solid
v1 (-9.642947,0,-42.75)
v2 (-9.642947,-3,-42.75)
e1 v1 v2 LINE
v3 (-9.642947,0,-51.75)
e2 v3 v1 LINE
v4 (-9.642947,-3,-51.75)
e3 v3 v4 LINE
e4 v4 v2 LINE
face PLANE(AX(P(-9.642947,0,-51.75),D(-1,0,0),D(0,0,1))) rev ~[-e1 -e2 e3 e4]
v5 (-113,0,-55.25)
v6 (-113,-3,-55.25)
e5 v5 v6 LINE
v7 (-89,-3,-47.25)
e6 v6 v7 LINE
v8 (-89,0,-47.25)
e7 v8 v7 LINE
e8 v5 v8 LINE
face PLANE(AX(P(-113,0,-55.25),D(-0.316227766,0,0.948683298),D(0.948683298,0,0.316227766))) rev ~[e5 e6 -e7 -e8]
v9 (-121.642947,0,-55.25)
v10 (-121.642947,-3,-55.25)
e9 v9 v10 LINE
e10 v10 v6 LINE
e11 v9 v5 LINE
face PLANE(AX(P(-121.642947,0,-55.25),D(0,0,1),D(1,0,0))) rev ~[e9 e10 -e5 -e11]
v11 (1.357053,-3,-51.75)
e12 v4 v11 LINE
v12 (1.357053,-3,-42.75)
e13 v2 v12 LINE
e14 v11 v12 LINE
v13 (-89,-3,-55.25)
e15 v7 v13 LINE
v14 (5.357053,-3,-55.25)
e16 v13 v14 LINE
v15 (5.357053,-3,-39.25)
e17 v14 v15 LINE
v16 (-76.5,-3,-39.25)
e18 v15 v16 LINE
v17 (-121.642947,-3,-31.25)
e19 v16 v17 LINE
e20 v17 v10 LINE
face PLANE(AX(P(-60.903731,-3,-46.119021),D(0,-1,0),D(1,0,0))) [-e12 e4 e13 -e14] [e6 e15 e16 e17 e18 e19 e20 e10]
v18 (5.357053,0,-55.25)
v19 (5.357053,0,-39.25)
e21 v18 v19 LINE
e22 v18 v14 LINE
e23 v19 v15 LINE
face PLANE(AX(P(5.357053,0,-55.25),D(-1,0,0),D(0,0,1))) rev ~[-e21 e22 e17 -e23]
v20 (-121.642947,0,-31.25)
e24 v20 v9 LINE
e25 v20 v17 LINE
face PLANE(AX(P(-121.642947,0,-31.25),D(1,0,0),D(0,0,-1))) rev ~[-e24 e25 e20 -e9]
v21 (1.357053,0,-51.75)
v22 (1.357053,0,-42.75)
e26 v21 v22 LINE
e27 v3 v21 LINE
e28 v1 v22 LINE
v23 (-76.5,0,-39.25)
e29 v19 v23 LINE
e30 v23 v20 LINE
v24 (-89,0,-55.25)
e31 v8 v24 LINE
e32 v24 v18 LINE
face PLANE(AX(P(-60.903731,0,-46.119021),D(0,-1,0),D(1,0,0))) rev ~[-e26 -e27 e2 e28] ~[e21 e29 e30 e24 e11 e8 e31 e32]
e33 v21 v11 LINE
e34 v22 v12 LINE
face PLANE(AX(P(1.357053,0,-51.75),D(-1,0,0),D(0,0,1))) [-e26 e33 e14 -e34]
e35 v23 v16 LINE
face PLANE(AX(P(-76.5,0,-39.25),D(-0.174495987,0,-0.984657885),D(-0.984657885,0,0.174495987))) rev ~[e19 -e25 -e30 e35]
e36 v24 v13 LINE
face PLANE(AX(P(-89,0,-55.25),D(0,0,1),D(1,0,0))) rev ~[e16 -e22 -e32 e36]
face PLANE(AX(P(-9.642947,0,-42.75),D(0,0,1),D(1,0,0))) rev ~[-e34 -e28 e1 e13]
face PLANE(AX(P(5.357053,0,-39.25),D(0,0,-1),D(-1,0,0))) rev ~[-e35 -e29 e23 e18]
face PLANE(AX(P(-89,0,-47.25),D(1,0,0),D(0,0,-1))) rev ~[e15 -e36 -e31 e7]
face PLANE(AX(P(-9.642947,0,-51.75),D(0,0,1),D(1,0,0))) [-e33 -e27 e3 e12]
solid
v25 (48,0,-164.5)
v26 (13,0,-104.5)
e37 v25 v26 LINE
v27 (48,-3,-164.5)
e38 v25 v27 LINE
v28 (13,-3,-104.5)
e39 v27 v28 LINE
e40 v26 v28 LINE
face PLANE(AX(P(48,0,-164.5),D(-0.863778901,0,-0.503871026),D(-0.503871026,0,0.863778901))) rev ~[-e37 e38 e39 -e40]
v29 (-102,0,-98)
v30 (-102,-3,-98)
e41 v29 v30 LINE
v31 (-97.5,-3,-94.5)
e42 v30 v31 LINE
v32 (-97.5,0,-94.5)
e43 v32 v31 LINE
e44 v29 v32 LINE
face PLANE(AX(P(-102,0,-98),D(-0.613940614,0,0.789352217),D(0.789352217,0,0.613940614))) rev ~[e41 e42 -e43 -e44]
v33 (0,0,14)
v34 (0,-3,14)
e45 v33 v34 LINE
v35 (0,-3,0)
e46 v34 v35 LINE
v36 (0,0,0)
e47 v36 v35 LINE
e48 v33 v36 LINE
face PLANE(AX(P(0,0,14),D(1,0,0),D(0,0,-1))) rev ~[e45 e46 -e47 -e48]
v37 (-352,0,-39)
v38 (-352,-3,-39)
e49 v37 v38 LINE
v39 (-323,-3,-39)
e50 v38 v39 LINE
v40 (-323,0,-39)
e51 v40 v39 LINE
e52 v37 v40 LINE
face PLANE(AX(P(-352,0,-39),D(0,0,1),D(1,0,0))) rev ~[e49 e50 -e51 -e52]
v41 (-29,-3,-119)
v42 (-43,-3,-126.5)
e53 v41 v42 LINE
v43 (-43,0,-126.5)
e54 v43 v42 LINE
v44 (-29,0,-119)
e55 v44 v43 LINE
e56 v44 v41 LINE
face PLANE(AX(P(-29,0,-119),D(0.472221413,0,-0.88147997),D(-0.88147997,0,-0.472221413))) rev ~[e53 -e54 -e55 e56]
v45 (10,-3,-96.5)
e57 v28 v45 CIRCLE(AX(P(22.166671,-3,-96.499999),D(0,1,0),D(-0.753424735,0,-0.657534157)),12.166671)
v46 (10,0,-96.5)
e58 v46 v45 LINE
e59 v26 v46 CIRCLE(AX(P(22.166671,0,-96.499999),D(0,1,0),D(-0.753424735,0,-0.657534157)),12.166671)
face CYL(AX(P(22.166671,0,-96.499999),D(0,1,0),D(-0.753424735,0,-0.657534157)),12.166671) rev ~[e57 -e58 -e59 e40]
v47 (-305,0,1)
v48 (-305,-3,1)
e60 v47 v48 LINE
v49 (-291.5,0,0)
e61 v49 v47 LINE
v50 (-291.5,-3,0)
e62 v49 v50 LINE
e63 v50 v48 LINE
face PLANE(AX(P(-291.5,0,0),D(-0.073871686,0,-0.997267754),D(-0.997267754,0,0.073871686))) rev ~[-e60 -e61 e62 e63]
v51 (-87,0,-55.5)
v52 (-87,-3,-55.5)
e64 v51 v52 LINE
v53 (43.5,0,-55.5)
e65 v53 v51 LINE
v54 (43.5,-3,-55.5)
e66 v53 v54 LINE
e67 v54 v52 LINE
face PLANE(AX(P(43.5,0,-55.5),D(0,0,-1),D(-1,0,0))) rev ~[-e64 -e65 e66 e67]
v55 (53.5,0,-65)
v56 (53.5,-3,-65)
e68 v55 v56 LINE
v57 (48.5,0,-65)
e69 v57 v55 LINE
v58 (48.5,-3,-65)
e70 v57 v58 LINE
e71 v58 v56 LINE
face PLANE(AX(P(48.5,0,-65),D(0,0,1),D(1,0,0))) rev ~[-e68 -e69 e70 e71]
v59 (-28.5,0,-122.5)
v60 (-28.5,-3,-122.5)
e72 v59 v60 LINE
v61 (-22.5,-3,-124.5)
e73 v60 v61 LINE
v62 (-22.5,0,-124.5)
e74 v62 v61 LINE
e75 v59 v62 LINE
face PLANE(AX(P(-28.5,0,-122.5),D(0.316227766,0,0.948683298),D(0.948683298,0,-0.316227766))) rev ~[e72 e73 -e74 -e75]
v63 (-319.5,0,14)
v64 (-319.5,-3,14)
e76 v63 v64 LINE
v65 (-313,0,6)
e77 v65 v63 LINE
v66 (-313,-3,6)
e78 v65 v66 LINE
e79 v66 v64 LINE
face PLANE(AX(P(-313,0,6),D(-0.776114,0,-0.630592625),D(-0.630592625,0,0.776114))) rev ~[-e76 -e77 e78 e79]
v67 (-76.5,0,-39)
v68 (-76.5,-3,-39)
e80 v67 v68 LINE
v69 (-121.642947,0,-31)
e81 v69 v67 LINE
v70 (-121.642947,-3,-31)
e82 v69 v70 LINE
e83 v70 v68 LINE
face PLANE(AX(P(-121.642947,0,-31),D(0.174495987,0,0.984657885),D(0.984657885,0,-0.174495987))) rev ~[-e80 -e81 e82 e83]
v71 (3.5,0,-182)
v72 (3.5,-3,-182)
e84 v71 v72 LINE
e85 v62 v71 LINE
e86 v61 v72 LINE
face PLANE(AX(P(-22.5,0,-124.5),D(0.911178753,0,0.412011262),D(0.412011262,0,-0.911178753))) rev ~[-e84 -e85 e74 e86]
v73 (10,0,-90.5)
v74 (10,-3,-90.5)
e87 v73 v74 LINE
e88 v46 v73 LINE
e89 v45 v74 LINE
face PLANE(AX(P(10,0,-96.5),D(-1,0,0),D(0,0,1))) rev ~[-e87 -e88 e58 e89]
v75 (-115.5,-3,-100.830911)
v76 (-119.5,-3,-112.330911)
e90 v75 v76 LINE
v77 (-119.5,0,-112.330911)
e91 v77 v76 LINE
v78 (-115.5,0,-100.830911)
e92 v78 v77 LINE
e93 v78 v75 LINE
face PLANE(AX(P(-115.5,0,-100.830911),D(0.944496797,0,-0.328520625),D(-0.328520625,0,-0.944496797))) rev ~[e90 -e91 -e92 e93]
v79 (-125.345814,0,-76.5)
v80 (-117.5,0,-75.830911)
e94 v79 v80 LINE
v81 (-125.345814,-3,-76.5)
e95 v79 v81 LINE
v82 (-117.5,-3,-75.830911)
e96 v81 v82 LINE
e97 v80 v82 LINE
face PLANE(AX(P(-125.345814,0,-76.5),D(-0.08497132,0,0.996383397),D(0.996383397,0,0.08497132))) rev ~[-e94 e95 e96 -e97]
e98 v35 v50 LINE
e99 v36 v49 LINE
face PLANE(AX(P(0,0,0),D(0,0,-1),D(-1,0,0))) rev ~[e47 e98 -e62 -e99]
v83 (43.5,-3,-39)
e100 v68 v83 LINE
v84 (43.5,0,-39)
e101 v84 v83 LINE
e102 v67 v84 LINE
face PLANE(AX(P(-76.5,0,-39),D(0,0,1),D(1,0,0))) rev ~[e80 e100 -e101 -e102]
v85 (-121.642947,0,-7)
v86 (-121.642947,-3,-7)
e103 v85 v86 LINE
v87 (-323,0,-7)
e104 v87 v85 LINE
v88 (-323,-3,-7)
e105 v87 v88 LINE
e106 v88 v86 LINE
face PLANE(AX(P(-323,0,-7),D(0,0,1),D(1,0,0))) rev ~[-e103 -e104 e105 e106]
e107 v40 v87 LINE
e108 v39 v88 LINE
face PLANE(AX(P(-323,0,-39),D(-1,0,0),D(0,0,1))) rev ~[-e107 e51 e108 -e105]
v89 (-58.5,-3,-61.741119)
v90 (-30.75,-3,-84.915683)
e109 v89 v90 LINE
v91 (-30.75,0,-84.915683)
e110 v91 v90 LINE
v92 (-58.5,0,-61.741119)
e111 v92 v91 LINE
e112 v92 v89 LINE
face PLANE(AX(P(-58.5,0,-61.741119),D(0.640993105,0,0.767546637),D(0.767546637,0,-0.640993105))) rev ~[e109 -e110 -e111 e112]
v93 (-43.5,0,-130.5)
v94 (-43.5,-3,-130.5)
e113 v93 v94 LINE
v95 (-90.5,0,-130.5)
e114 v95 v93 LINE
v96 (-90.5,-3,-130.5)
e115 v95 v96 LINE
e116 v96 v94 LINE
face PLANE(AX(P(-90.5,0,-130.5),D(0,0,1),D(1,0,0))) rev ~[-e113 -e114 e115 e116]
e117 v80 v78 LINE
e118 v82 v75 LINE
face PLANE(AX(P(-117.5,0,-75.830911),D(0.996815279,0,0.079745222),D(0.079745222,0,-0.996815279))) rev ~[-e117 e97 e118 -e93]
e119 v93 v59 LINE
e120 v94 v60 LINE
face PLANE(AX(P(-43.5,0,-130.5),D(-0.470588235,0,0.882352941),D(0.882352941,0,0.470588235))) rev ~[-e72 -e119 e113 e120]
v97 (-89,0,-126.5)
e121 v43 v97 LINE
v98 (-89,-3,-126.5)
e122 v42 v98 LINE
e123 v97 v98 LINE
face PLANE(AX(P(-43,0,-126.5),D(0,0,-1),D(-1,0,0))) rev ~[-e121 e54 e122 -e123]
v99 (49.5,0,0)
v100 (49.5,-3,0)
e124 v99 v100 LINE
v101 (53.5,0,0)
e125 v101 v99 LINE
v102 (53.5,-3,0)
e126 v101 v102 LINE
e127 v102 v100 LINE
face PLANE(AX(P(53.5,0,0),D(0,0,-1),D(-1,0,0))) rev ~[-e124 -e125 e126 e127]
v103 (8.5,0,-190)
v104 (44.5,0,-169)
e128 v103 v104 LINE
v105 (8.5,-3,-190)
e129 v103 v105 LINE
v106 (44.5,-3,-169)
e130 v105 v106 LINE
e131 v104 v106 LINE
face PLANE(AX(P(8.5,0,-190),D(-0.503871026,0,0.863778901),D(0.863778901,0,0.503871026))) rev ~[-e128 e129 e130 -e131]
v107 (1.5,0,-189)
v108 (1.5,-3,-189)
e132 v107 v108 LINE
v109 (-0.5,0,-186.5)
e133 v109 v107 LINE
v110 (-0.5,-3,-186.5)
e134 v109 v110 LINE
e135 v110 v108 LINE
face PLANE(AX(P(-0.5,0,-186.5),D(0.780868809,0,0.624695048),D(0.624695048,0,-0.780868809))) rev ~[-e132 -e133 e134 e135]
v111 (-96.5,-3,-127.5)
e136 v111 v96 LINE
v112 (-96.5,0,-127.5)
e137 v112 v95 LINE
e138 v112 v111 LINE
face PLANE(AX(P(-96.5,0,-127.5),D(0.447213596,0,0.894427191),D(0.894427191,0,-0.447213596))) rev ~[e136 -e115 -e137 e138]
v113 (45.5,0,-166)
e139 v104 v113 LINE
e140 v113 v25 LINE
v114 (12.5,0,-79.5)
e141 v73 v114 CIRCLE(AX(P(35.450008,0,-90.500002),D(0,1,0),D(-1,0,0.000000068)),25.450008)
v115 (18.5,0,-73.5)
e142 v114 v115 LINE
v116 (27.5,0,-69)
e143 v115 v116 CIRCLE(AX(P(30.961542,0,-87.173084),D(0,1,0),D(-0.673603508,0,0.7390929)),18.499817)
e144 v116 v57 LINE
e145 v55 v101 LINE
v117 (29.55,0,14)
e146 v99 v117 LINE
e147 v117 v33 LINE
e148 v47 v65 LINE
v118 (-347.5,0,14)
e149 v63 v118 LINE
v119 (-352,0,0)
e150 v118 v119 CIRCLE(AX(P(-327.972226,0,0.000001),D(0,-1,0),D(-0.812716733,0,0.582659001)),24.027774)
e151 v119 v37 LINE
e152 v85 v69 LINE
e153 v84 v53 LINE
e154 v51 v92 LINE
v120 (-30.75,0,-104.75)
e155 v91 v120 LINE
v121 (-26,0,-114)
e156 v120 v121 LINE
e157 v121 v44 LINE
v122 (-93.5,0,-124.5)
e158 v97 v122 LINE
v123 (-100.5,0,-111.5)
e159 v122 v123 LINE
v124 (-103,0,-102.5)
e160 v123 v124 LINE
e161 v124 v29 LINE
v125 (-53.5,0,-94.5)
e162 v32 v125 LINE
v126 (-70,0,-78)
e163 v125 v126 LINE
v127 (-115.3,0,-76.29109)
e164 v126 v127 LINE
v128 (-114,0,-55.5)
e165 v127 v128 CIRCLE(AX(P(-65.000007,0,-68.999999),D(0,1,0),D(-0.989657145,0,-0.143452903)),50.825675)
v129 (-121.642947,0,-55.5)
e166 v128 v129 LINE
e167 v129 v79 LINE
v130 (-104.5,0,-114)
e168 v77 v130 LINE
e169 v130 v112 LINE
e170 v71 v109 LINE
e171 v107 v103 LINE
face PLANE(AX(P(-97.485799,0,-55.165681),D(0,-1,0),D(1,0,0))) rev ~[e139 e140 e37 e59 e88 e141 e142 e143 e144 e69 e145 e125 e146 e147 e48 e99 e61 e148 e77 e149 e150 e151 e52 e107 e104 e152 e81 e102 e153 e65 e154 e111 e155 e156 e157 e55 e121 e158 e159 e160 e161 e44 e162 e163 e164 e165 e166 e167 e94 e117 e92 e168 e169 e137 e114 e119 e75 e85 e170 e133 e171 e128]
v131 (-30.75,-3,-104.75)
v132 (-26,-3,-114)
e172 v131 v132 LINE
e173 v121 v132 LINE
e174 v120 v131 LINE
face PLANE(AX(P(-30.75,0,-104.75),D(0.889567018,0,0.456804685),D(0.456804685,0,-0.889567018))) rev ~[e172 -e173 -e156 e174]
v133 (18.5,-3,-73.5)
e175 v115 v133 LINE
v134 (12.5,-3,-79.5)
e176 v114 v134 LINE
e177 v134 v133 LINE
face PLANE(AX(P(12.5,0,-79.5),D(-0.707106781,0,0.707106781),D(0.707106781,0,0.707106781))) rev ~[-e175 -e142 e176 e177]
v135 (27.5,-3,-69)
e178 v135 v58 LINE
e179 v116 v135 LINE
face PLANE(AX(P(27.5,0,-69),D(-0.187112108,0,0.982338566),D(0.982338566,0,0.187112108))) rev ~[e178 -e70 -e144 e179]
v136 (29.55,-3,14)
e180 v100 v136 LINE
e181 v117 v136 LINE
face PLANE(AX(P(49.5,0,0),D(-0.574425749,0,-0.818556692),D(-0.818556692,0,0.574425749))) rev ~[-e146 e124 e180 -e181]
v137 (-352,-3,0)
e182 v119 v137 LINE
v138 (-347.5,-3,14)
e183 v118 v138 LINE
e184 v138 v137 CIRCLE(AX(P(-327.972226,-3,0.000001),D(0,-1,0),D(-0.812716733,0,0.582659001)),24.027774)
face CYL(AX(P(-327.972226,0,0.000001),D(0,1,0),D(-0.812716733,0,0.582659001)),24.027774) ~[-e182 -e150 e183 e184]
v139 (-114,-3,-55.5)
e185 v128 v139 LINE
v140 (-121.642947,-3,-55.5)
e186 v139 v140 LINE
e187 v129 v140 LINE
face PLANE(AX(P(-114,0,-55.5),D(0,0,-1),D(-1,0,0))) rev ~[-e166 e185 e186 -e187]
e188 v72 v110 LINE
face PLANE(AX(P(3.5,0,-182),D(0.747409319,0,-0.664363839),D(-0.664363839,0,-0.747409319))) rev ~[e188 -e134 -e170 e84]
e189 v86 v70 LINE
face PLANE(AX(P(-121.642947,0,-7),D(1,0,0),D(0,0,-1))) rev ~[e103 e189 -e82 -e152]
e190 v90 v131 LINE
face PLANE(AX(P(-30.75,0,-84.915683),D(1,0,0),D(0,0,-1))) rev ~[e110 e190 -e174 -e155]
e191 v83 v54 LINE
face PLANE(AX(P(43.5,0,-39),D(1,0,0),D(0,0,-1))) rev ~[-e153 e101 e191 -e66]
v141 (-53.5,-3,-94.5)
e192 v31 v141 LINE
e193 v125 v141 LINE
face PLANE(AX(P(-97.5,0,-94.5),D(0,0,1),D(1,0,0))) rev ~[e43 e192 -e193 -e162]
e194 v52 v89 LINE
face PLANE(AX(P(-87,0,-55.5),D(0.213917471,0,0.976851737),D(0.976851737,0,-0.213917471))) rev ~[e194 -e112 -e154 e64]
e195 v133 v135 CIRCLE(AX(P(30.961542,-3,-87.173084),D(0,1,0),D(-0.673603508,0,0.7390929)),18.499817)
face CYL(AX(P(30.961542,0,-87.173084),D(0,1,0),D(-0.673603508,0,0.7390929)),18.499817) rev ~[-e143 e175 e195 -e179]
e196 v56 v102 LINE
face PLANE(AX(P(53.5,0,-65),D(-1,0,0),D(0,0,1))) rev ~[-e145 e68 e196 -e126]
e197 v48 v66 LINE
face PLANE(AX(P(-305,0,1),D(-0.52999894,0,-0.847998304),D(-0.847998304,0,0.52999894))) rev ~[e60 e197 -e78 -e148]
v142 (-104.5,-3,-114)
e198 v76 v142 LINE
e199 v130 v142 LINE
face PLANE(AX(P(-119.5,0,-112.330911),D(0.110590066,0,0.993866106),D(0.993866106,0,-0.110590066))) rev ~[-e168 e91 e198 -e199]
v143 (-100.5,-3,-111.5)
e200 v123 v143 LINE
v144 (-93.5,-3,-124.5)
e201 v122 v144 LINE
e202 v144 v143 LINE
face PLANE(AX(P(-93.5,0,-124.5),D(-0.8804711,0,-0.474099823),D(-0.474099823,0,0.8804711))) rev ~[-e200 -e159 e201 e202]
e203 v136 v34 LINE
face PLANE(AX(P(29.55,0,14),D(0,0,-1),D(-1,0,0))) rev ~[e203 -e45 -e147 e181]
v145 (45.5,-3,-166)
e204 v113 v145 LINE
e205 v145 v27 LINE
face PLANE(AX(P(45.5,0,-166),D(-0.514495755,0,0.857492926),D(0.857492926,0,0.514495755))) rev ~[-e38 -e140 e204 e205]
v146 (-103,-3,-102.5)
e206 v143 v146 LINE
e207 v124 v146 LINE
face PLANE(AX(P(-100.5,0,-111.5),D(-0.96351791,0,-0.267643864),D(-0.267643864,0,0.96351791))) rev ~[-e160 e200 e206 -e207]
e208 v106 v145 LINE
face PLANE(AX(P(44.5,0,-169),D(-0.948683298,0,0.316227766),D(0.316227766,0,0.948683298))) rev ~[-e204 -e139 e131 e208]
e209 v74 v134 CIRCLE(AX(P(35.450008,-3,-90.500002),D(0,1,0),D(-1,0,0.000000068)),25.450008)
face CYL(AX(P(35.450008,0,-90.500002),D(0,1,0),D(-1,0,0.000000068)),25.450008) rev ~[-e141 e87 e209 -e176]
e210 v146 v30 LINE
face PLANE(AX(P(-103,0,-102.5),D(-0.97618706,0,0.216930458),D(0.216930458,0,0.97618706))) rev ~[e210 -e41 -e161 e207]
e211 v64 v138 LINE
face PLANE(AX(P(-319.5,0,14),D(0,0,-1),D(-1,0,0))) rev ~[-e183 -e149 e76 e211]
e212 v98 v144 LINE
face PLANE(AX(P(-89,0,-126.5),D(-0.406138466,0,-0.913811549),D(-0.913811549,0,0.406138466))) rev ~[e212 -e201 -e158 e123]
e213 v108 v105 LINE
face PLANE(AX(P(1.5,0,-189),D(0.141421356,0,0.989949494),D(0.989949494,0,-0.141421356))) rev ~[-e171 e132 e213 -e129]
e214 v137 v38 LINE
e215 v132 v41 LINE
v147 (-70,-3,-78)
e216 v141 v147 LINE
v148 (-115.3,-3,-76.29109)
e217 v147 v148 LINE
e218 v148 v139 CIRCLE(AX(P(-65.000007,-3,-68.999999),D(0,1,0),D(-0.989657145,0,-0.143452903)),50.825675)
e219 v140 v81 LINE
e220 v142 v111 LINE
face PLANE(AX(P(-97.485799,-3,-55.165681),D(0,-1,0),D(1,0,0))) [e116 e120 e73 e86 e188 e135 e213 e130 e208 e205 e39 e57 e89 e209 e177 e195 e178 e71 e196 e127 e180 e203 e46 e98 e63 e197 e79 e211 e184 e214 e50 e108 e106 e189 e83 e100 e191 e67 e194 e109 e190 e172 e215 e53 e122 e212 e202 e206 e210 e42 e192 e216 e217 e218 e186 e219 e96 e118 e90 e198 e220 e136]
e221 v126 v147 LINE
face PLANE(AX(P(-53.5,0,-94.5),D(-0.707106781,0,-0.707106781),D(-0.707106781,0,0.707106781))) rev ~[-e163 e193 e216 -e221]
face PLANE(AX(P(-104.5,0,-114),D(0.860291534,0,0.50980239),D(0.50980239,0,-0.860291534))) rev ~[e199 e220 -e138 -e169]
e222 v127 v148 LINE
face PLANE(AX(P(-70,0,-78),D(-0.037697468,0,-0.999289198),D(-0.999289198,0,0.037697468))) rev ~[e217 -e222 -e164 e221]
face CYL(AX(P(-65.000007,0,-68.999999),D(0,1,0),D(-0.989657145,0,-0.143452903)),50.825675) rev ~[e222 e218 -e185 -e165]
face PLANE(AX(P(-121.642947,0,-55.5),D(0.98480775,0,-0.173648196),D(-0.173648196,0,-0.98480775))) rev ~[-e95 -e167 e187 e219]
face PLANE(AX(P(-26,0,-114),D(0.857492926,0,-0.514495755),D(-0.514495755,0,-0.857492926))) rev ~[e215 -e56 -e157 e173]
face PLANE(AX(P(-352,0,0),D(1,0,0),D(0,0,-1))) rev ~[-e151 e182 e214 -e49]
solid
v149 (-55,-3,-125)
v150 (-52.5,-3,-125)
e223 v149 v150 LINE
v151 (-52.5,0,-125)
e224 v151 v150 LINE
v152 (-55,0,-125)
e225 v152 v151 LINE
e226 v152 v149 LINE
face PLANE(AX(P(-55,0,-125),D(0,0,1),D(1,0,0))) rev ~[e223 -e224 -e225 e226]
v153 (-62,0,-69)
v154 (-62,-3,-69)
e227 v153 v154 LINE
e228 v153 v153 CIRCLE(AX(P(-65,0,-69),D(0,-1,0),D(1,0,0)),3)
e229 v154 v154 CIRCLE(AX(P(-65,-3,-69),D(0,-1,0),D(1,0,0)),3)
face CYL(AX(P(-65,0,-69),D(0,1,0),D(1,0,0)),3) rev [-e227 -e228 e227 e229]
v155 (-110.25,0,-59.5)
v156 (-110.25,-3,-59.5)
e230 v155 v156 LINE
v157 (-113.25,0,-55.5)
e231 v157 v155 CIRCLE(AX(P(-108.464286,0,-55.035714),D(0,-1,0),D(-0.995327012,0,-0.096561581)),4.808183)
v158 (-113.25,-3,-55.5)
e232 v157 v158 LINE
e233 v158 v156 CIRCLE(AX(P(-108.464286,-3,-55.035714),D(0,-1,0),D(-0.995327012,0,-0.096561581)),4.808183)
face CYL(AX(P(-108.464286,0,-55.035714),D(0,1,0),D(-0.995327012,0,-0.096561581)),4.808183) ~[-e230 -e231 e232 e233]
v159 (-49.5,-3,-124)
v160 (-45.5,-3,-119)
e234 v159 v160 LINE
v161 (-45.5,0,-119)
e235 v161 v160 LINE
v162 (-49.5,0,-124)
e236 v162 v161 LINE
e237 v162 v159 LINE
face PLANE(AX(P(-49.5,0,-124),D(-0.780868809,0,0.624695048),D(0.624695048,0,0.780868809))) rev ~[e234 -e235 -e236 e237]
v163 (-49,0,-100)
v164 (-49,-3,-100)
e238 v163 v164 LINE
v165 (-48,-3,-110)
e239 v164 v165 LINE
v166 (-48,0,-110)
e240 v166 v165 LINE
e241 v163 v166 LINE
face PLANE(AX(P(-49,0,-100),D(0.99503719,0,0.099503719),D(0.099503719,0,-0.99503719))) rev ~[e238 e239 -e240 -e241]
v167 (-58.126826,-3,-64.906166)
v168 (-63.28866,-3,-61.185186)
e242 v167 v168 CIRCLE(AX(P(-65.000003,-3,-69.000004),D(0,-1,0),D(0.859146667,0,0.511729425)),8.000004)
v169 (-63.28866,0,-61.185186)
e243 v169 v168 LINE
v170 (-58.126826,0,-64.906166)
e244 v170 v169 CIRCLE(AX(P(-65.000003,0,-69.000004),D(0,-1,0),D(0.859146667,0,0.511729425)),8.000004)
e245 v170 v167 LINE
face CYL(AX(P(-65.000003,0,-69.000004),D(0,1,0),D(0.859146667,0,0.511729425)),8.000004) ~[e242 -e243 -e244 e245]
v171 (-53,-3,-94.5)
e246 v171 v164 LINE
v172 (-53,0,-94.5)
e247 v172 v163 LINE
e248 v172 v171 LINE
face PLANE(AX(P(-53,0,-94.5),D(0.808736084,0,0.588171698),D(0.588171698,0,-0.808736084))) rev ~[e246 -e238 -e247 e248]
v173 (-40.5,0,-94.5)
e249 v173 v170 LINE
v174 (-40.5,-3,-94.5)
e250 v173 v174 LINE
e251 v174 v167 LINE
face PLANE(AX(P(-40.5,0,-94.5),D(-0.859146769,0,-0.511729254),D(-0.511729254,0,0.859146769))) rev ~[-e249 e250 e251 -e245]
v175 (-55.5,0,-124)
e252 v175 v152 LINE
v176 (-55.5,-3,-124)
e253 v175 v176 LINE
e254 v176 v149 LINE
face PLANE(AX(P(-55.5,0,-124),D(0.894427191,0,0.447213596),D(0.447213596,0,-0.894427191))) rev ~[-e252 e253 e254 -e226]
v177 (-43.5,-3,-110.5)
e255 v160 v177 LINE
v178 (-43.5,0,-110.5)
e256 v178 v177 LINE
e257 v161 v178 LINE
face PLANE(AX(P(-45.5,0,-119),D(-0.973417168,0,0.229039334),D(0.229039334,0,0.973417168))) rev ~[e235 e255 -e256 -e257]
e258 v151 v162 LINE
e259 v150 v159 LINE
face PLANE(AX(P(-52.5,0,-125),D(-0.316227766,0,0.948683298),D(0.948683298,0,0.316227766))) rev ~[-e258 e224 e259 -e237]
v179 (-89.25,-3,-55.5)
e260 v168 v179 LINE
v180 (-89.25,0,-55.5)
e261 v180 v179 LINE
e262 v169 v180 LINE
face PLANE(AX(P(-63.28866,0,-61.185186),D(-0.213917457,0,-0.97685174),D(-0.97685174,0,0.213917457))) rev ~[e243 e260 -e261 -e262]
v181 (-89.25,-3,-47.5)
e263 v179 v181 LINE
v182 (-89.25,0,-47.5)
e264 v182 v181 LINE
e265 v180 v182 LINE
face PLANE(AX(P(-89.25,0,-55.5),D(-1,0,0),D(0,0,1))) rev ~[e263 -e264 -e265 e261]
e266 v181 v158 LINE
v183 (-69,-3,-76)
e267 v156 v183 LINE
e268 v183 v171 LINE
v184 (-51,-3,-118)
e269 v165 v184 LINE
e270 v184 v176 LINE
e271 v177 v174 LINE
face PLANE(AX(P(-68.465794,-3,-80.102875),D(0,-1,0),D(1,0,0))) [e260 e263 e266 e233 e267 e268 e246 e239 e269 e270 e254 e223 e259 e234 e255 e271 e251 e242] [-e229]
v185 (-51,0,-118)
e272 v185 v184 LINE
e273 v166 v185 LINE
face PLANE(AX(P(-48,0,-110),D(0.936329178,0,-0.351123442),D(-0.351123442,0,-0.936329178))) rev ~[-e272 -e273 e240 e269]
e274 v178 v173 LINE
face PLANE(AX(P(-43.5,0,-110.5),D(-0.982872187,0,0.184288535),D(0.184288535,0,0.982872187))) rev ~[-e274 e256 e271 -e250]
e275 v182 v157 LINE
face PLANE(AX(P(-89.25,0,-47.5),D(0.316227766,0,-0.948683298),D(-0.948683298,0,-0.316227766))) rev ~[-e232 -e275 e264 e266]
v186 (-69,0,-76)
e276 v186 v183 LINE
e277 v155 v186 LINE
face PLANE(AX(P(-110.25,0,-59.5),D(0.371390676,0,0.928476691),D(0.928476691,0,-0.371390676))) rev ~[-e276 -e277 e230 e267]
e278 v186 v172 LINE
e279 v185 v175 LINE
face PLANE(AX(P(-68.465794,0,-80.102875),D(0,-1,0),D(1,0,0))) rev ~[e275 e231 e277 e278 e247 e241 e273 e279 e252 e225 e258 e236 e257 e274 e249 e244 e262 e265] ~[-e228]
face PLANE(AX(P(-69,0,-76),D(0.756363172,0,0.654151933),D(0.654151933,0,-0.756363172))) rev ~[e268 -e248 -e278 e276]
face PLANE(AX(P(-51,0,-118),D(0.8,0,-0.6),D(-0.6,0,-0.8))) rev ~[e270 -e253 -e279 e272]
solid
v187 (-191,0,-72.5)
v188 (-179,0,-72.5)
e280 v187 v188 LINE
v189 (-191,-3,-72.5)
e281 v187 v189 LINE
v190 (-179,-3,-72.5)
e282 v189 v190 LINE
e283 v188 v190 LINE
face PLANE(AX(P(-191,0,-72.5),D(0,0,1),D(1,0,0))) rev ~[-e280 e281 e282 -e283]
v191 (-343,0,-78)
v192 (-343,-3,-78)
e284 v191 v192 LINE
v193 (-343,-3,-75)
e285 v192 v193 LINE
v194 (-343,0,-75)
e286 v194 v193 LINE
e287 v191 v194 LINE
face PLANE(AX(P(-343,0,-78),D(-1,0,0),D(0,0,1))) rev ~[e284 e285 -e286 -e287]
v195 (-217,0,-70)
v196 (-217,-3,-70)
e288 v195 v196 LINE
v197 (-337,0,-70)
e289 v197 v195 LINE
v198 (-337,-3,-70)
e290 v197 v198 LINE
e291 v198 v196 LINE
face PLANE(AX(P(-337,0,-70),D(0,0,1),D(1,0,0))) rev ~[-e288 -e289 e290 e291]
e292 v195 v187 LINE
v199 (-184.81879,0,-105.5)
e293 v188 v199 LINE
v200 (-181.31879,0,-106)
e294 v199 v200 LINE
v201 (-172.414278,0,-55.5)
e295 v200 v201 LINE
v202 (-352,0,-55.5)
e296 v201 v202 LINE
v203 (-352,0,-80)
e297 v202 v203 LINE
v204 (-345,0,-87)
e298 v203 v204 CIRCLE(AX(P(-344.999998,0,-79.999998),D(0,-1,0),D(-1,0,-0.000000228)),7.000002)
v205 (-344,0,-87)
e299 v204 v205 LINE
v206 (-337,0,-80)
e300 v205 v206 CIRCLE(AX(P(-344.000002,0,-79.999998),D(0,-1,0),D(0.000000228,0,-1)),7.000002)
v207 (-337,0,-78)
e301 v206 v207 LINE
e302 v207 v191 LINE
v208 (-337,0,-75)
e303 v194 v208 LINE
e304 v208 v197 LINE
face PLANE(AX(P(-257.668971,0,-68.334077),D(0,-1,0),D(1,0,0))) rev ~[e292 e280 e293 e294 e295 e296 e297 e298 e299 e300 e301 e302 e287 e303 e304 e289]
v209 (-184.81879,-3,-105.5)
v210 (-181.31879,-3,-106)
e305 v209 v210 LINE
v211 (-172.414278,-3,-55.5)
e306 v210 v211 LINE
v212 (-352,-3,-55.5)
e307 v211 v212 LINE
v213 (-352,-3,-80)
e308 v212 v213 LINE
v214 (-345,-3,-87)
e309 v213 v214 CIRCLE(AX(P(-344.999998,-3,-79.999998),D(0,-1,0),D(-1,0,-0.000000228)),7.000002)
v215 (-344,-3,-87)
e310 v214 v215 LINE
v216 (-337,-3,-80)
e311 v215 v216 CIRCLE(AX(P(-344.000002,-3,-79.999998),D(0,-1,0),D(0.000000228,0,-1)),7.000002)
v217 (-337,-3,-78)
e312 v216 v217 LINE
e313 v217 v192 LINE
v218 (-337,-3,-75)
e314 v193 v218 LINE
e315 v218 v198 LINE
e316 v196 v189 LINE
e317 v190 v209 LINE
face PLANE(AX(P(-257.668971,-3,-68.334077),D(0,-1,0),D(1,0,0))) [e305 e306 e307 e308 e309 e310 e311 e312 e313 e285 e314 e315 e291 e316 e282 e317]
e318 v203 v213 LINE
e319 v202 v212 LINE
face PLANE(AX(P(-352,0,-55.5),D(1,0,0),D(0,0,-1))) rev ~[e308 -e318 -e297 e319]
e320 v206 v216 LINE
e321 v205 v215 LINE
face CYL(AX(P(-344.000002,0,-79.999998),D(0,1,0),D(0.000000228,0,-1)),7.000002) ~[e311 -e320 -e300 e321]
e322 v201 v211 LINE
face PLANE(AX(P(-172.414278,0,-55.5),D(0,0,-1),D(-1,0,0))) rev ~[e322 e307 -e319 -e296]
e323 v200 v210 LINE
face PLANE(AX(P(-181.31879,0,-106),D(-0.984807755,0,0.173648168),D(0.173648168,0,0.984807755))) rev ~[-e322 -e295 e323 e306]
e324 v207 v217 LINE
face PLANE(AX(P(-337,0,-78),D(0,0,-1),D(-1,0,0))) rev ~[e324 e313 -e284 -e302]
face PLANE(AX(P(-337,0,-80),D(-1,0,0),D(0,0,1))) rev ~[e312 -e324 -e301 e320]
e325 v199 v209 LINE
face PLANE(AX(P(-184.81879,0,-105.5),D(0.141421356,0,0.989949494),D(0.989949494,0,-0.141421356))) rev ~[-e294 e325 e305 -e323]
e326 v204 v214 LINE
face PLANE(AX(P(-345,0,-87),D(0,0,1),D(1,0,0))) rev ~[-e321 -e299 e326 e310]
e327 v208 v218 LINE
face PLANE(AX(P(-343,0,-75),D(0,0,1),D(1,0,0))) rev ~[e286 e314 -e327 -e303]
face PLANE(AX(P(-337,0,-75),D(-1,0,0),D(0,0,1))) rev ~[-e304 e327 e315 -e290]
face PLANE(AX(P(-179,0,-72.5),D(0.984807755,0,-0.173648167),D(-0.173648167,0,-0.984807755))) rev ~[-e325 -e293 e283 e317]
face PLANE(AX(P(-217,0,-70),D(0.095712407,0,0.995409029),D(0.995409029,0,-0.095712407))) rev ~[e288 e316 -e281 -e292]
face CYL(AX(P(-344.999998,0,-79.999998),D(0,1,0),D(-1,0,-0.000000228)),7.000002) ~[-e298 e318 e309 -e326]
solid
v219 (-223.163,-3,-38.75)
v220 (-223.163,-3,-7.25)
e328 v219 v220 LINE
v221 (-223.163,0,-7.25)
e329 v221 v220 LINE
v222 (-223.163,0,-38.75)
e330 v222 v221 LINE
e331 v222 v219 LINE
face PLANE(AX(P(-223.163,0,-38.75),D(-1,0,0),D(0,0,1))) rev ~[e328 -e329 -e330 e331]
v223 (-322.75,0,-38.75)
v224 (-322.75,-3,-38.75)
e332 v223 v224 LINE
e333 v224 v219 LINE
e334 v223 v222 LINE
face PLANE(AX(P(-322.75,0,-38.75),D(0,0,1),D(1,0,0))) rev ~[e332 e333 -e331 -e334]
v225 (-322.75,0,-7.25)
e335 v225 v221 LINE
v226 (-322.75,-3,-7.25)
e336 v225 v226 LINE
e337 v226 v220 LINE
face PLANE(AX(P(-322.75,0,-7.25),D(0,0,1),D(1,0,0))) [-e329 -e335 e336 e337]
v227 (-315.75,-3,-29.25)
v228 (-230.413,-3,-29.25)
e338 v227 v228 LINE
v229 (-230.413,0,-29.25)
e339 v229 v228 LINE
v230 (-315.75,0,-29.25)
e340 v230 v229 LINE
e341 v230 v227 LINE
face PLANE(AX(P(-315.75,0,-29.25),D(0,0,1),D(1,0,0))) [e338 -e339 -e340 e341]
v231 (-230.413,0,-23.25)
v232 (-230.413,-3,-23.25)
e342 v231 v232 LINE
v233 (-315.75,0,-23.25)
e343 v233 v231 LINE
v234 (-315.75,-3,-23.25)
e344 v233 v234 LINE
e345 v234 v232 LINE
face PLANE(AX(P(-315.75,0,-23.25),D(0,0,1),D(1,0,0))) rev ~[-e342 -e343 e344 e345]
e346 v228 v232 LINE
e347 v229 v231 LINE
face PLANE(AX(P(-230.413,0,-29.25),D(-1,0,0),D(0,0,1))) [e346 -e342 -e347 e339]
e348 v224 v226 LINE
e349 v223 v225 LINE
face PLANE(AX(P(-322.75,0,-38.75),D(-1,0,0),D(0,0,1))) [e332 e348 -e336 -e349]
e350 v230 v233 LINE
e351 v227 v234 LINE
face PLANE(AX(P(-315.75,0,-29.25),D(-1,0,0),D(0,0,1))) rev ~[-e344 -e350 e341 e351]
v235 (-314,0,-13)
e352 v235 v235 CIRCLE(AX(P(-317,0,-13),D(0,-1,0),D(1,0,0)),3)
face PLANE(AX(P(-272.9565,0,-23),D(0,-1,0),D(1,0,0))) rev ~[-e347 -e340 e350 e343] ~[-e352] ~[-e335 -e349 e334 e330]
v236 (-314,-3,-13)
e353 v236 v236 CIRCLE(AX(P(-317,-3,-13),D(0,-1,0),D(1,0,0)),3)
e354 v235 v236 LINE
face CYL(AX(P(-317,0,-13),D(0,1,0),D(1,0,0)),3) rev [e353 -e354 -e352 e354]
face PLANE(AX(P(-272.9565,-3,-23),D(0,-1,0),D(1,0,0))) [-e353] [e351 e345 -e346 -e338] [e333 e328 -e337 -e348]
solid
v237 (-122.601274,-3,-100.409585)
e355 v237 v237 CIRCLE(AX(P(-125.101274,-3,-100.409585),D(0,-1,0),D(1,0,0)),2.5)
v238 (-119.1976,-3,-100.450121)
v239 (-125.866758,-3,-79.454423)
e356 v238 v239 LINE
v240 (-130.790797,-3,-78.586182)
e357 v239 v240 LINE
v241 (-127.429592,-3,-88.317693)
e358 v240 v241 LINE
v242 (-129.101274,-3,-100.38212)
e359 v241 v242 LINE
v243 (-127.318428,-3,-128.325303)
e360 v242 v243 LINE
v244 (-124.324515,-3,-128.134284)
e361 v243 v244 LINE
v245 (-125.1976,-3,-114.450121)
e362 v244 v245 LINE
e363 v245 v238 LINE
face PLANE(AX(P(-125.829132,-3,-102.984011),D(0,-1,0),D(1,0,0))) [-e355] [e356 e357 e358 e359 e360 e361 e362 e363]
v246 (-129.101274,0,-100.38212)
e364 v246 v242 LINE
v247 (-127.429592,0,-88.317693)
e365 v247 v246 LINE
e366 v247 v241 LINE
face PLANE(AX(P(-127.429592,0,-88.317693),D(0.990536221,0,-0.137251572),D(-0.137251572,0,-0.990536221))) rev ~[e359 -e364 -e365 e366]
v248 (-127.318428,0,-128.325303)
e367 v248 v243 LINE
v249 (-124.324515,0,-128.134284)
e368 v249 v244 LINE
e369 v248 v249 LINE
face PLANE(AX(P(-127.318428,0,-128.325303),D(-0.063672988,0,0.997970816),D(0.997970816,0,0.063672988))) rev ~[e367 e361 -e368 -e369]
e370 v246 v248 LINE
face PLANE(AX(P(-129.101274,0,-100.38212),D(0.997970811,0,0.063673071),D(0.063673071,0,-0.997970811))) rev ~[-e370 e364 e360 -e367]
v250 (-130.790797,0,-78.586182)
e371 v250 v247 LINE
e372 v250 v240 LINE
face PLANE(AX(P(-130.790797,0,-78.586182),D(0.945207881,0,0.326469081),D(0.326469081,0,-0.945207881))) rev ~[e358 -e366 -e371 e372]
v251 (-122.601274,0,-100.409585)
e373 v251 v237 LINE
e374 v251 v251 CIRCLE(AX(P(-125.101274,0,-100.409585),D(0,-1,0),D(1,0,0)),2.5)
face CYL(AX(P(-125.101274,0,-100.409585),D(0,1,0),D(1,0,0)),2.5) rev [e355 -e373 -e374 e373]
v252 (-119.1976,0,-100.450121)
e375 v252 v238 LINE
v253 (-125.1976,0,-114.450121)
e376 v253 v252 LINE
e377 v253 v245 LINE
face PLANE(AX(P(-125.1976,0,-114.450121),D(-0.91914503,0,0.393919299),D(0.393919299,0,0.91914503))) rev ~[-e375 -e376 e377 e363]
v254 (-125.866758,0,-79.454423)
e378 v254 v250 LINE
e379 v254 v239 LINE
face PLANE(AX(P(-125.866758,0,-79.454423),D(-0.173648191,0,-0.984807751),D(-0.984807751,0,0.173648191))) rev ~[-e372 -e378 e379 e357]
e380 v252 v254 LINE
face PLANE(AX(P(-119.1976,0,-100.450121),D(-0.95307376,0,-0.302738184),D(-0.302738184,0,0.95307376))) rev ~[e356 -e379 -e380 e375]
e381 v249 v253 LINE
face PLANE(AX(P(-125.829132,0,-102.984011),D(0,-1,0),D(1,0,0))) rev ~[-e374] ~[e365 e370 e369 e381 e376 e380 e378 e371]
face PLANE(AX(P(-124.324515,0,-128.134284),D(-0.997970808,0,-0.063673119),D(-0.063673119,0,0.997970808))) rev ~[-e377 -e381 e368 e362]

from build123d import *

# Parameters (mm, degrees)
F0_R     = 3
F0_W     = 11
F0_H     = 9
F0_W_2   = 99.587
F0_H_2   = 31.5
F0_W_3   = 85.337
F0_H_3   = 6
F0_R_2   = 2.5
F1_DEPTH = 3


with BuildPart() as f1:
    # F0 (on Front) → F1 (new body)
    with BuildSketch(Plane.XZ):
        with BuildLine():
            Line((48.5, -65), (53.5, -65))
            Line((53.5, -65), (53.5, 0))
            Line((53.5, 0), (49.5, 0))
            Line((49.5, 0), (29.55, 14))
            Line((29.55, 14), (0, 14))
            Line((0, 14), (0, 0))
            Line((0, 0), (-291.5, 0))
            Line((-291.5, 0), (-305, 1))
            Line((-305, 1), (-313, 6))
            Line((-313, 6), (-319.5, 14))
            Line((-319.5, 14), (-347.5, 14))
            ThreePointArc((-347.5, 14), (-350.847353, 7.352721), (-352, 0))
            Line((-352, 0), (-352, -39))
            Line((-352, -39), (-323, -39))
            Line((-323, -39), (-323, -7))
            Line((-323, -7), (-209, -7))
            Line((-209, -7), (-121.642947, -7))
            Line((-121.642947, -7), (-121.642947, -31))
            Line((-121.642947, -31), (-76.5, -39))
            Line((-76.5, -39), (43.5, -39))
            Line((43.5, -39), (43.5, -55.5))
            Line((43.5, -55.5), (-87, -55.5))
            Line((-87, -55.5), (-58.5, -61.741119))
            Line((-58.5, -61.741119), (-30.75, -84.915683))
            Line((-30.75, -84.915683), (-30.75, -104.75))
            Line((-30.75, -104.75), (-26, -114))
            Line((-26, -114), (-29, -119))
            Line((-29, -119), (-43, -126.5))
            Line((-43, -126.5), (-89, -126.5))
            Line((-89, -126.5), (-93.5, -124.5))
            Line((-93.5, -124.5), (-100.5, -111.5))
            Line((-100.5, -111.5), (-103, -102.5))
            Line((-103, -102.5), (-102, -98))
            Line((-102, -98), (-97.5, -94.5))
            Line((-97.5, -94.5), (-53.5, -94.5))
            Line((-53.5, -94.5), (-70, -78))
            Line((-70, -78), (-115.3, -76.29109))
            ThreePointArc((-115.3, -76.29109), (-115.726619, -65.828228), (-114, -55.5))
            Line((-114, -55.5), (-121.642947, -55.5))
            Line((-121.642947, -55.5), (-125.345814, -76.5))
            Line((-125.345814, -76.5), (-117.5, -75.830911))
            Line((-117.5, -75.830911), (-115.5, -100.830911))
            Line((-115.5, -100.830911), (-119.5, -112.330911))
            Line((-119.5, -112.330911), (-104.5, -114))
            Line((-104.5, -114), (-96.5, -127.5))
            Line((-96.5, -127.5), (-90.5, -130.5))
            Line((-90.5, -130.5), (-43.5, -130.5))
            Line((-43.5, -130.5), (-28.5, -122.5))
            Line((-28.5, -122.5), (-22.5, -124.5))
            Line((-22.5, -124.5), (3.5, -182))
            Line((3.5, -182), (-0.5, -186.5))
            Line((-0.5, -186.5), (1.5, -189))
            Line((1.5, -189), (8.5, -190))
            Line((8.5, -190), (44.5, -169))
            Line((44.5, -169), (45.5, -166))
            Line((45.5, -166), (48, -164.5))
            Line((48, -164.5), (13, -104.5))
            ThreePointArc((13, -104.5), (10.774662, -100.772002), (10, -96.5))
            Line((10, -96.5), (10, -90.5))
            ThreePointArc((10, -90.5), (10.632869, -84.859743), (12.5, -79.5))
            Line((12.5, -79.5), (18.5, -73.5))
            ThreePointArc((18.5, -73.5), (22.688172, -70.626344), (27.5, -69))
            Line((27.5, -69), (48.5, -65))
        make_face()
        with BuildLine():
            ThreePointArc((-352, -80), (-349.949747, -84.949747), (-345, -87))
            Line((-345, -87), (-344, -87))
            ThreePointArc((-344, -87), (-339.050253, -84.949747), (-337, -80))
            Line((-337, -80), (-337, -78))
            Line((-337, -78), (-343, -78))
            Line((-343, -78), (-343, -75))
            Line((-343, -75), (-337, -75))
            Line((-337, -75), (-337, -70))
            Line((-337, -70), (-217, -70))
            Line((-217, -70), (-191, -72.5))
            Line((-191, -72.5), (-179, -72.5))
            Line((-179, -72.5), (-184.81879, -105.5))
            Line((-184.81879, -105.5), (-181.31879, -106))
            Line((-181.31879, -106), (-172.414278, -55.5))
            Line((-172.414278, -55.5), (-352, -55.5))
            Line((-352, -55.5), (-352, -80))
        make_face()
        with BuildLine():
            Line((-51, -118), (-55.5, -124))
            Line((-55.5, -124), (-55, -125))
            Line((-55, -125), (-52.5, -125))
            Line((-52.5, -125), (-49.5, -124))
            Line((-49.5, -124), (-45.5, -119))
            Line((-45.5, -119), (-43.5, -110.5))
            Line((-43.5, -110.5), (-40.5, -94.5))
            Line((-40.5, -94.5), (-58.126826, -64.906166))
            ThreePointArc((-58.126826, -64.906166), (-60.321871, -62.510385), (-63.28866, -61.185186))
            Line((-63.28866, -61.185186), (-89.25, -55.5))
            Line((-89.25, -55.5), (-89.25, -47.5))
            Line((-89.25, -47.5), (-113.25, -55.5))
            ThreePointArc((-113.25, -55.5), (-112.310832, -57.920624), (-110.25, -59.5))
            Line((-110.25, -59.5), (-69, -76))
            Line((-69, -76), (-53, -94.5))
            Line((-53, -94.5), (-49, -100))
            Line((-49, -100), (-48, -110))
            Line((-48, -110), (-51, -118))
        make_face()
        with Locations((-65, -69)):
            Circle(F0_R, mode=Mode.SUBTRACT)
        Polygon((-121.642947, -31.25), (-121.642947, -55.25), (-113, -55.25), (-89, -47.25), (-89, -55.25), (5.357053, -55.25), (5.357053, -39.25), (-76.5, -39.25), align=None)
        with Locations((-4.142947, -47.25)):
            Rectangle(F0_W, F0_H, mode=Mode.SUBTRACT)
        with Locations((-272.9565, -23)):
            Rectangle(F0_W_2, F0_H_2)
        with Locations((-317, -13)):
            Circle(F0_R, mode=Mode.SUBTRACT)
        with Locations((-273.0815, -26.25)):
            Rectangle(F0_W_3, F0_H_3, mode=Mode.SUBTRACT)
        Polygon((-124.324515, -128.134284), (-125.1976, -114.450121), (-119.1976, -100.450121), (-125.866758, -79.454423), (-130.790797, -78.586182), (-127.429592, -88.317693), (-129.101274, -100.38212), (-127.318428, -128.325303), align=None)
        with Locations((-125.101274, -100.409585)):
            Circle(F0_R_2, mode=Mode.SUBTRACT)
    extrude(amount=F1_DEPTH)


solid = f1.part
